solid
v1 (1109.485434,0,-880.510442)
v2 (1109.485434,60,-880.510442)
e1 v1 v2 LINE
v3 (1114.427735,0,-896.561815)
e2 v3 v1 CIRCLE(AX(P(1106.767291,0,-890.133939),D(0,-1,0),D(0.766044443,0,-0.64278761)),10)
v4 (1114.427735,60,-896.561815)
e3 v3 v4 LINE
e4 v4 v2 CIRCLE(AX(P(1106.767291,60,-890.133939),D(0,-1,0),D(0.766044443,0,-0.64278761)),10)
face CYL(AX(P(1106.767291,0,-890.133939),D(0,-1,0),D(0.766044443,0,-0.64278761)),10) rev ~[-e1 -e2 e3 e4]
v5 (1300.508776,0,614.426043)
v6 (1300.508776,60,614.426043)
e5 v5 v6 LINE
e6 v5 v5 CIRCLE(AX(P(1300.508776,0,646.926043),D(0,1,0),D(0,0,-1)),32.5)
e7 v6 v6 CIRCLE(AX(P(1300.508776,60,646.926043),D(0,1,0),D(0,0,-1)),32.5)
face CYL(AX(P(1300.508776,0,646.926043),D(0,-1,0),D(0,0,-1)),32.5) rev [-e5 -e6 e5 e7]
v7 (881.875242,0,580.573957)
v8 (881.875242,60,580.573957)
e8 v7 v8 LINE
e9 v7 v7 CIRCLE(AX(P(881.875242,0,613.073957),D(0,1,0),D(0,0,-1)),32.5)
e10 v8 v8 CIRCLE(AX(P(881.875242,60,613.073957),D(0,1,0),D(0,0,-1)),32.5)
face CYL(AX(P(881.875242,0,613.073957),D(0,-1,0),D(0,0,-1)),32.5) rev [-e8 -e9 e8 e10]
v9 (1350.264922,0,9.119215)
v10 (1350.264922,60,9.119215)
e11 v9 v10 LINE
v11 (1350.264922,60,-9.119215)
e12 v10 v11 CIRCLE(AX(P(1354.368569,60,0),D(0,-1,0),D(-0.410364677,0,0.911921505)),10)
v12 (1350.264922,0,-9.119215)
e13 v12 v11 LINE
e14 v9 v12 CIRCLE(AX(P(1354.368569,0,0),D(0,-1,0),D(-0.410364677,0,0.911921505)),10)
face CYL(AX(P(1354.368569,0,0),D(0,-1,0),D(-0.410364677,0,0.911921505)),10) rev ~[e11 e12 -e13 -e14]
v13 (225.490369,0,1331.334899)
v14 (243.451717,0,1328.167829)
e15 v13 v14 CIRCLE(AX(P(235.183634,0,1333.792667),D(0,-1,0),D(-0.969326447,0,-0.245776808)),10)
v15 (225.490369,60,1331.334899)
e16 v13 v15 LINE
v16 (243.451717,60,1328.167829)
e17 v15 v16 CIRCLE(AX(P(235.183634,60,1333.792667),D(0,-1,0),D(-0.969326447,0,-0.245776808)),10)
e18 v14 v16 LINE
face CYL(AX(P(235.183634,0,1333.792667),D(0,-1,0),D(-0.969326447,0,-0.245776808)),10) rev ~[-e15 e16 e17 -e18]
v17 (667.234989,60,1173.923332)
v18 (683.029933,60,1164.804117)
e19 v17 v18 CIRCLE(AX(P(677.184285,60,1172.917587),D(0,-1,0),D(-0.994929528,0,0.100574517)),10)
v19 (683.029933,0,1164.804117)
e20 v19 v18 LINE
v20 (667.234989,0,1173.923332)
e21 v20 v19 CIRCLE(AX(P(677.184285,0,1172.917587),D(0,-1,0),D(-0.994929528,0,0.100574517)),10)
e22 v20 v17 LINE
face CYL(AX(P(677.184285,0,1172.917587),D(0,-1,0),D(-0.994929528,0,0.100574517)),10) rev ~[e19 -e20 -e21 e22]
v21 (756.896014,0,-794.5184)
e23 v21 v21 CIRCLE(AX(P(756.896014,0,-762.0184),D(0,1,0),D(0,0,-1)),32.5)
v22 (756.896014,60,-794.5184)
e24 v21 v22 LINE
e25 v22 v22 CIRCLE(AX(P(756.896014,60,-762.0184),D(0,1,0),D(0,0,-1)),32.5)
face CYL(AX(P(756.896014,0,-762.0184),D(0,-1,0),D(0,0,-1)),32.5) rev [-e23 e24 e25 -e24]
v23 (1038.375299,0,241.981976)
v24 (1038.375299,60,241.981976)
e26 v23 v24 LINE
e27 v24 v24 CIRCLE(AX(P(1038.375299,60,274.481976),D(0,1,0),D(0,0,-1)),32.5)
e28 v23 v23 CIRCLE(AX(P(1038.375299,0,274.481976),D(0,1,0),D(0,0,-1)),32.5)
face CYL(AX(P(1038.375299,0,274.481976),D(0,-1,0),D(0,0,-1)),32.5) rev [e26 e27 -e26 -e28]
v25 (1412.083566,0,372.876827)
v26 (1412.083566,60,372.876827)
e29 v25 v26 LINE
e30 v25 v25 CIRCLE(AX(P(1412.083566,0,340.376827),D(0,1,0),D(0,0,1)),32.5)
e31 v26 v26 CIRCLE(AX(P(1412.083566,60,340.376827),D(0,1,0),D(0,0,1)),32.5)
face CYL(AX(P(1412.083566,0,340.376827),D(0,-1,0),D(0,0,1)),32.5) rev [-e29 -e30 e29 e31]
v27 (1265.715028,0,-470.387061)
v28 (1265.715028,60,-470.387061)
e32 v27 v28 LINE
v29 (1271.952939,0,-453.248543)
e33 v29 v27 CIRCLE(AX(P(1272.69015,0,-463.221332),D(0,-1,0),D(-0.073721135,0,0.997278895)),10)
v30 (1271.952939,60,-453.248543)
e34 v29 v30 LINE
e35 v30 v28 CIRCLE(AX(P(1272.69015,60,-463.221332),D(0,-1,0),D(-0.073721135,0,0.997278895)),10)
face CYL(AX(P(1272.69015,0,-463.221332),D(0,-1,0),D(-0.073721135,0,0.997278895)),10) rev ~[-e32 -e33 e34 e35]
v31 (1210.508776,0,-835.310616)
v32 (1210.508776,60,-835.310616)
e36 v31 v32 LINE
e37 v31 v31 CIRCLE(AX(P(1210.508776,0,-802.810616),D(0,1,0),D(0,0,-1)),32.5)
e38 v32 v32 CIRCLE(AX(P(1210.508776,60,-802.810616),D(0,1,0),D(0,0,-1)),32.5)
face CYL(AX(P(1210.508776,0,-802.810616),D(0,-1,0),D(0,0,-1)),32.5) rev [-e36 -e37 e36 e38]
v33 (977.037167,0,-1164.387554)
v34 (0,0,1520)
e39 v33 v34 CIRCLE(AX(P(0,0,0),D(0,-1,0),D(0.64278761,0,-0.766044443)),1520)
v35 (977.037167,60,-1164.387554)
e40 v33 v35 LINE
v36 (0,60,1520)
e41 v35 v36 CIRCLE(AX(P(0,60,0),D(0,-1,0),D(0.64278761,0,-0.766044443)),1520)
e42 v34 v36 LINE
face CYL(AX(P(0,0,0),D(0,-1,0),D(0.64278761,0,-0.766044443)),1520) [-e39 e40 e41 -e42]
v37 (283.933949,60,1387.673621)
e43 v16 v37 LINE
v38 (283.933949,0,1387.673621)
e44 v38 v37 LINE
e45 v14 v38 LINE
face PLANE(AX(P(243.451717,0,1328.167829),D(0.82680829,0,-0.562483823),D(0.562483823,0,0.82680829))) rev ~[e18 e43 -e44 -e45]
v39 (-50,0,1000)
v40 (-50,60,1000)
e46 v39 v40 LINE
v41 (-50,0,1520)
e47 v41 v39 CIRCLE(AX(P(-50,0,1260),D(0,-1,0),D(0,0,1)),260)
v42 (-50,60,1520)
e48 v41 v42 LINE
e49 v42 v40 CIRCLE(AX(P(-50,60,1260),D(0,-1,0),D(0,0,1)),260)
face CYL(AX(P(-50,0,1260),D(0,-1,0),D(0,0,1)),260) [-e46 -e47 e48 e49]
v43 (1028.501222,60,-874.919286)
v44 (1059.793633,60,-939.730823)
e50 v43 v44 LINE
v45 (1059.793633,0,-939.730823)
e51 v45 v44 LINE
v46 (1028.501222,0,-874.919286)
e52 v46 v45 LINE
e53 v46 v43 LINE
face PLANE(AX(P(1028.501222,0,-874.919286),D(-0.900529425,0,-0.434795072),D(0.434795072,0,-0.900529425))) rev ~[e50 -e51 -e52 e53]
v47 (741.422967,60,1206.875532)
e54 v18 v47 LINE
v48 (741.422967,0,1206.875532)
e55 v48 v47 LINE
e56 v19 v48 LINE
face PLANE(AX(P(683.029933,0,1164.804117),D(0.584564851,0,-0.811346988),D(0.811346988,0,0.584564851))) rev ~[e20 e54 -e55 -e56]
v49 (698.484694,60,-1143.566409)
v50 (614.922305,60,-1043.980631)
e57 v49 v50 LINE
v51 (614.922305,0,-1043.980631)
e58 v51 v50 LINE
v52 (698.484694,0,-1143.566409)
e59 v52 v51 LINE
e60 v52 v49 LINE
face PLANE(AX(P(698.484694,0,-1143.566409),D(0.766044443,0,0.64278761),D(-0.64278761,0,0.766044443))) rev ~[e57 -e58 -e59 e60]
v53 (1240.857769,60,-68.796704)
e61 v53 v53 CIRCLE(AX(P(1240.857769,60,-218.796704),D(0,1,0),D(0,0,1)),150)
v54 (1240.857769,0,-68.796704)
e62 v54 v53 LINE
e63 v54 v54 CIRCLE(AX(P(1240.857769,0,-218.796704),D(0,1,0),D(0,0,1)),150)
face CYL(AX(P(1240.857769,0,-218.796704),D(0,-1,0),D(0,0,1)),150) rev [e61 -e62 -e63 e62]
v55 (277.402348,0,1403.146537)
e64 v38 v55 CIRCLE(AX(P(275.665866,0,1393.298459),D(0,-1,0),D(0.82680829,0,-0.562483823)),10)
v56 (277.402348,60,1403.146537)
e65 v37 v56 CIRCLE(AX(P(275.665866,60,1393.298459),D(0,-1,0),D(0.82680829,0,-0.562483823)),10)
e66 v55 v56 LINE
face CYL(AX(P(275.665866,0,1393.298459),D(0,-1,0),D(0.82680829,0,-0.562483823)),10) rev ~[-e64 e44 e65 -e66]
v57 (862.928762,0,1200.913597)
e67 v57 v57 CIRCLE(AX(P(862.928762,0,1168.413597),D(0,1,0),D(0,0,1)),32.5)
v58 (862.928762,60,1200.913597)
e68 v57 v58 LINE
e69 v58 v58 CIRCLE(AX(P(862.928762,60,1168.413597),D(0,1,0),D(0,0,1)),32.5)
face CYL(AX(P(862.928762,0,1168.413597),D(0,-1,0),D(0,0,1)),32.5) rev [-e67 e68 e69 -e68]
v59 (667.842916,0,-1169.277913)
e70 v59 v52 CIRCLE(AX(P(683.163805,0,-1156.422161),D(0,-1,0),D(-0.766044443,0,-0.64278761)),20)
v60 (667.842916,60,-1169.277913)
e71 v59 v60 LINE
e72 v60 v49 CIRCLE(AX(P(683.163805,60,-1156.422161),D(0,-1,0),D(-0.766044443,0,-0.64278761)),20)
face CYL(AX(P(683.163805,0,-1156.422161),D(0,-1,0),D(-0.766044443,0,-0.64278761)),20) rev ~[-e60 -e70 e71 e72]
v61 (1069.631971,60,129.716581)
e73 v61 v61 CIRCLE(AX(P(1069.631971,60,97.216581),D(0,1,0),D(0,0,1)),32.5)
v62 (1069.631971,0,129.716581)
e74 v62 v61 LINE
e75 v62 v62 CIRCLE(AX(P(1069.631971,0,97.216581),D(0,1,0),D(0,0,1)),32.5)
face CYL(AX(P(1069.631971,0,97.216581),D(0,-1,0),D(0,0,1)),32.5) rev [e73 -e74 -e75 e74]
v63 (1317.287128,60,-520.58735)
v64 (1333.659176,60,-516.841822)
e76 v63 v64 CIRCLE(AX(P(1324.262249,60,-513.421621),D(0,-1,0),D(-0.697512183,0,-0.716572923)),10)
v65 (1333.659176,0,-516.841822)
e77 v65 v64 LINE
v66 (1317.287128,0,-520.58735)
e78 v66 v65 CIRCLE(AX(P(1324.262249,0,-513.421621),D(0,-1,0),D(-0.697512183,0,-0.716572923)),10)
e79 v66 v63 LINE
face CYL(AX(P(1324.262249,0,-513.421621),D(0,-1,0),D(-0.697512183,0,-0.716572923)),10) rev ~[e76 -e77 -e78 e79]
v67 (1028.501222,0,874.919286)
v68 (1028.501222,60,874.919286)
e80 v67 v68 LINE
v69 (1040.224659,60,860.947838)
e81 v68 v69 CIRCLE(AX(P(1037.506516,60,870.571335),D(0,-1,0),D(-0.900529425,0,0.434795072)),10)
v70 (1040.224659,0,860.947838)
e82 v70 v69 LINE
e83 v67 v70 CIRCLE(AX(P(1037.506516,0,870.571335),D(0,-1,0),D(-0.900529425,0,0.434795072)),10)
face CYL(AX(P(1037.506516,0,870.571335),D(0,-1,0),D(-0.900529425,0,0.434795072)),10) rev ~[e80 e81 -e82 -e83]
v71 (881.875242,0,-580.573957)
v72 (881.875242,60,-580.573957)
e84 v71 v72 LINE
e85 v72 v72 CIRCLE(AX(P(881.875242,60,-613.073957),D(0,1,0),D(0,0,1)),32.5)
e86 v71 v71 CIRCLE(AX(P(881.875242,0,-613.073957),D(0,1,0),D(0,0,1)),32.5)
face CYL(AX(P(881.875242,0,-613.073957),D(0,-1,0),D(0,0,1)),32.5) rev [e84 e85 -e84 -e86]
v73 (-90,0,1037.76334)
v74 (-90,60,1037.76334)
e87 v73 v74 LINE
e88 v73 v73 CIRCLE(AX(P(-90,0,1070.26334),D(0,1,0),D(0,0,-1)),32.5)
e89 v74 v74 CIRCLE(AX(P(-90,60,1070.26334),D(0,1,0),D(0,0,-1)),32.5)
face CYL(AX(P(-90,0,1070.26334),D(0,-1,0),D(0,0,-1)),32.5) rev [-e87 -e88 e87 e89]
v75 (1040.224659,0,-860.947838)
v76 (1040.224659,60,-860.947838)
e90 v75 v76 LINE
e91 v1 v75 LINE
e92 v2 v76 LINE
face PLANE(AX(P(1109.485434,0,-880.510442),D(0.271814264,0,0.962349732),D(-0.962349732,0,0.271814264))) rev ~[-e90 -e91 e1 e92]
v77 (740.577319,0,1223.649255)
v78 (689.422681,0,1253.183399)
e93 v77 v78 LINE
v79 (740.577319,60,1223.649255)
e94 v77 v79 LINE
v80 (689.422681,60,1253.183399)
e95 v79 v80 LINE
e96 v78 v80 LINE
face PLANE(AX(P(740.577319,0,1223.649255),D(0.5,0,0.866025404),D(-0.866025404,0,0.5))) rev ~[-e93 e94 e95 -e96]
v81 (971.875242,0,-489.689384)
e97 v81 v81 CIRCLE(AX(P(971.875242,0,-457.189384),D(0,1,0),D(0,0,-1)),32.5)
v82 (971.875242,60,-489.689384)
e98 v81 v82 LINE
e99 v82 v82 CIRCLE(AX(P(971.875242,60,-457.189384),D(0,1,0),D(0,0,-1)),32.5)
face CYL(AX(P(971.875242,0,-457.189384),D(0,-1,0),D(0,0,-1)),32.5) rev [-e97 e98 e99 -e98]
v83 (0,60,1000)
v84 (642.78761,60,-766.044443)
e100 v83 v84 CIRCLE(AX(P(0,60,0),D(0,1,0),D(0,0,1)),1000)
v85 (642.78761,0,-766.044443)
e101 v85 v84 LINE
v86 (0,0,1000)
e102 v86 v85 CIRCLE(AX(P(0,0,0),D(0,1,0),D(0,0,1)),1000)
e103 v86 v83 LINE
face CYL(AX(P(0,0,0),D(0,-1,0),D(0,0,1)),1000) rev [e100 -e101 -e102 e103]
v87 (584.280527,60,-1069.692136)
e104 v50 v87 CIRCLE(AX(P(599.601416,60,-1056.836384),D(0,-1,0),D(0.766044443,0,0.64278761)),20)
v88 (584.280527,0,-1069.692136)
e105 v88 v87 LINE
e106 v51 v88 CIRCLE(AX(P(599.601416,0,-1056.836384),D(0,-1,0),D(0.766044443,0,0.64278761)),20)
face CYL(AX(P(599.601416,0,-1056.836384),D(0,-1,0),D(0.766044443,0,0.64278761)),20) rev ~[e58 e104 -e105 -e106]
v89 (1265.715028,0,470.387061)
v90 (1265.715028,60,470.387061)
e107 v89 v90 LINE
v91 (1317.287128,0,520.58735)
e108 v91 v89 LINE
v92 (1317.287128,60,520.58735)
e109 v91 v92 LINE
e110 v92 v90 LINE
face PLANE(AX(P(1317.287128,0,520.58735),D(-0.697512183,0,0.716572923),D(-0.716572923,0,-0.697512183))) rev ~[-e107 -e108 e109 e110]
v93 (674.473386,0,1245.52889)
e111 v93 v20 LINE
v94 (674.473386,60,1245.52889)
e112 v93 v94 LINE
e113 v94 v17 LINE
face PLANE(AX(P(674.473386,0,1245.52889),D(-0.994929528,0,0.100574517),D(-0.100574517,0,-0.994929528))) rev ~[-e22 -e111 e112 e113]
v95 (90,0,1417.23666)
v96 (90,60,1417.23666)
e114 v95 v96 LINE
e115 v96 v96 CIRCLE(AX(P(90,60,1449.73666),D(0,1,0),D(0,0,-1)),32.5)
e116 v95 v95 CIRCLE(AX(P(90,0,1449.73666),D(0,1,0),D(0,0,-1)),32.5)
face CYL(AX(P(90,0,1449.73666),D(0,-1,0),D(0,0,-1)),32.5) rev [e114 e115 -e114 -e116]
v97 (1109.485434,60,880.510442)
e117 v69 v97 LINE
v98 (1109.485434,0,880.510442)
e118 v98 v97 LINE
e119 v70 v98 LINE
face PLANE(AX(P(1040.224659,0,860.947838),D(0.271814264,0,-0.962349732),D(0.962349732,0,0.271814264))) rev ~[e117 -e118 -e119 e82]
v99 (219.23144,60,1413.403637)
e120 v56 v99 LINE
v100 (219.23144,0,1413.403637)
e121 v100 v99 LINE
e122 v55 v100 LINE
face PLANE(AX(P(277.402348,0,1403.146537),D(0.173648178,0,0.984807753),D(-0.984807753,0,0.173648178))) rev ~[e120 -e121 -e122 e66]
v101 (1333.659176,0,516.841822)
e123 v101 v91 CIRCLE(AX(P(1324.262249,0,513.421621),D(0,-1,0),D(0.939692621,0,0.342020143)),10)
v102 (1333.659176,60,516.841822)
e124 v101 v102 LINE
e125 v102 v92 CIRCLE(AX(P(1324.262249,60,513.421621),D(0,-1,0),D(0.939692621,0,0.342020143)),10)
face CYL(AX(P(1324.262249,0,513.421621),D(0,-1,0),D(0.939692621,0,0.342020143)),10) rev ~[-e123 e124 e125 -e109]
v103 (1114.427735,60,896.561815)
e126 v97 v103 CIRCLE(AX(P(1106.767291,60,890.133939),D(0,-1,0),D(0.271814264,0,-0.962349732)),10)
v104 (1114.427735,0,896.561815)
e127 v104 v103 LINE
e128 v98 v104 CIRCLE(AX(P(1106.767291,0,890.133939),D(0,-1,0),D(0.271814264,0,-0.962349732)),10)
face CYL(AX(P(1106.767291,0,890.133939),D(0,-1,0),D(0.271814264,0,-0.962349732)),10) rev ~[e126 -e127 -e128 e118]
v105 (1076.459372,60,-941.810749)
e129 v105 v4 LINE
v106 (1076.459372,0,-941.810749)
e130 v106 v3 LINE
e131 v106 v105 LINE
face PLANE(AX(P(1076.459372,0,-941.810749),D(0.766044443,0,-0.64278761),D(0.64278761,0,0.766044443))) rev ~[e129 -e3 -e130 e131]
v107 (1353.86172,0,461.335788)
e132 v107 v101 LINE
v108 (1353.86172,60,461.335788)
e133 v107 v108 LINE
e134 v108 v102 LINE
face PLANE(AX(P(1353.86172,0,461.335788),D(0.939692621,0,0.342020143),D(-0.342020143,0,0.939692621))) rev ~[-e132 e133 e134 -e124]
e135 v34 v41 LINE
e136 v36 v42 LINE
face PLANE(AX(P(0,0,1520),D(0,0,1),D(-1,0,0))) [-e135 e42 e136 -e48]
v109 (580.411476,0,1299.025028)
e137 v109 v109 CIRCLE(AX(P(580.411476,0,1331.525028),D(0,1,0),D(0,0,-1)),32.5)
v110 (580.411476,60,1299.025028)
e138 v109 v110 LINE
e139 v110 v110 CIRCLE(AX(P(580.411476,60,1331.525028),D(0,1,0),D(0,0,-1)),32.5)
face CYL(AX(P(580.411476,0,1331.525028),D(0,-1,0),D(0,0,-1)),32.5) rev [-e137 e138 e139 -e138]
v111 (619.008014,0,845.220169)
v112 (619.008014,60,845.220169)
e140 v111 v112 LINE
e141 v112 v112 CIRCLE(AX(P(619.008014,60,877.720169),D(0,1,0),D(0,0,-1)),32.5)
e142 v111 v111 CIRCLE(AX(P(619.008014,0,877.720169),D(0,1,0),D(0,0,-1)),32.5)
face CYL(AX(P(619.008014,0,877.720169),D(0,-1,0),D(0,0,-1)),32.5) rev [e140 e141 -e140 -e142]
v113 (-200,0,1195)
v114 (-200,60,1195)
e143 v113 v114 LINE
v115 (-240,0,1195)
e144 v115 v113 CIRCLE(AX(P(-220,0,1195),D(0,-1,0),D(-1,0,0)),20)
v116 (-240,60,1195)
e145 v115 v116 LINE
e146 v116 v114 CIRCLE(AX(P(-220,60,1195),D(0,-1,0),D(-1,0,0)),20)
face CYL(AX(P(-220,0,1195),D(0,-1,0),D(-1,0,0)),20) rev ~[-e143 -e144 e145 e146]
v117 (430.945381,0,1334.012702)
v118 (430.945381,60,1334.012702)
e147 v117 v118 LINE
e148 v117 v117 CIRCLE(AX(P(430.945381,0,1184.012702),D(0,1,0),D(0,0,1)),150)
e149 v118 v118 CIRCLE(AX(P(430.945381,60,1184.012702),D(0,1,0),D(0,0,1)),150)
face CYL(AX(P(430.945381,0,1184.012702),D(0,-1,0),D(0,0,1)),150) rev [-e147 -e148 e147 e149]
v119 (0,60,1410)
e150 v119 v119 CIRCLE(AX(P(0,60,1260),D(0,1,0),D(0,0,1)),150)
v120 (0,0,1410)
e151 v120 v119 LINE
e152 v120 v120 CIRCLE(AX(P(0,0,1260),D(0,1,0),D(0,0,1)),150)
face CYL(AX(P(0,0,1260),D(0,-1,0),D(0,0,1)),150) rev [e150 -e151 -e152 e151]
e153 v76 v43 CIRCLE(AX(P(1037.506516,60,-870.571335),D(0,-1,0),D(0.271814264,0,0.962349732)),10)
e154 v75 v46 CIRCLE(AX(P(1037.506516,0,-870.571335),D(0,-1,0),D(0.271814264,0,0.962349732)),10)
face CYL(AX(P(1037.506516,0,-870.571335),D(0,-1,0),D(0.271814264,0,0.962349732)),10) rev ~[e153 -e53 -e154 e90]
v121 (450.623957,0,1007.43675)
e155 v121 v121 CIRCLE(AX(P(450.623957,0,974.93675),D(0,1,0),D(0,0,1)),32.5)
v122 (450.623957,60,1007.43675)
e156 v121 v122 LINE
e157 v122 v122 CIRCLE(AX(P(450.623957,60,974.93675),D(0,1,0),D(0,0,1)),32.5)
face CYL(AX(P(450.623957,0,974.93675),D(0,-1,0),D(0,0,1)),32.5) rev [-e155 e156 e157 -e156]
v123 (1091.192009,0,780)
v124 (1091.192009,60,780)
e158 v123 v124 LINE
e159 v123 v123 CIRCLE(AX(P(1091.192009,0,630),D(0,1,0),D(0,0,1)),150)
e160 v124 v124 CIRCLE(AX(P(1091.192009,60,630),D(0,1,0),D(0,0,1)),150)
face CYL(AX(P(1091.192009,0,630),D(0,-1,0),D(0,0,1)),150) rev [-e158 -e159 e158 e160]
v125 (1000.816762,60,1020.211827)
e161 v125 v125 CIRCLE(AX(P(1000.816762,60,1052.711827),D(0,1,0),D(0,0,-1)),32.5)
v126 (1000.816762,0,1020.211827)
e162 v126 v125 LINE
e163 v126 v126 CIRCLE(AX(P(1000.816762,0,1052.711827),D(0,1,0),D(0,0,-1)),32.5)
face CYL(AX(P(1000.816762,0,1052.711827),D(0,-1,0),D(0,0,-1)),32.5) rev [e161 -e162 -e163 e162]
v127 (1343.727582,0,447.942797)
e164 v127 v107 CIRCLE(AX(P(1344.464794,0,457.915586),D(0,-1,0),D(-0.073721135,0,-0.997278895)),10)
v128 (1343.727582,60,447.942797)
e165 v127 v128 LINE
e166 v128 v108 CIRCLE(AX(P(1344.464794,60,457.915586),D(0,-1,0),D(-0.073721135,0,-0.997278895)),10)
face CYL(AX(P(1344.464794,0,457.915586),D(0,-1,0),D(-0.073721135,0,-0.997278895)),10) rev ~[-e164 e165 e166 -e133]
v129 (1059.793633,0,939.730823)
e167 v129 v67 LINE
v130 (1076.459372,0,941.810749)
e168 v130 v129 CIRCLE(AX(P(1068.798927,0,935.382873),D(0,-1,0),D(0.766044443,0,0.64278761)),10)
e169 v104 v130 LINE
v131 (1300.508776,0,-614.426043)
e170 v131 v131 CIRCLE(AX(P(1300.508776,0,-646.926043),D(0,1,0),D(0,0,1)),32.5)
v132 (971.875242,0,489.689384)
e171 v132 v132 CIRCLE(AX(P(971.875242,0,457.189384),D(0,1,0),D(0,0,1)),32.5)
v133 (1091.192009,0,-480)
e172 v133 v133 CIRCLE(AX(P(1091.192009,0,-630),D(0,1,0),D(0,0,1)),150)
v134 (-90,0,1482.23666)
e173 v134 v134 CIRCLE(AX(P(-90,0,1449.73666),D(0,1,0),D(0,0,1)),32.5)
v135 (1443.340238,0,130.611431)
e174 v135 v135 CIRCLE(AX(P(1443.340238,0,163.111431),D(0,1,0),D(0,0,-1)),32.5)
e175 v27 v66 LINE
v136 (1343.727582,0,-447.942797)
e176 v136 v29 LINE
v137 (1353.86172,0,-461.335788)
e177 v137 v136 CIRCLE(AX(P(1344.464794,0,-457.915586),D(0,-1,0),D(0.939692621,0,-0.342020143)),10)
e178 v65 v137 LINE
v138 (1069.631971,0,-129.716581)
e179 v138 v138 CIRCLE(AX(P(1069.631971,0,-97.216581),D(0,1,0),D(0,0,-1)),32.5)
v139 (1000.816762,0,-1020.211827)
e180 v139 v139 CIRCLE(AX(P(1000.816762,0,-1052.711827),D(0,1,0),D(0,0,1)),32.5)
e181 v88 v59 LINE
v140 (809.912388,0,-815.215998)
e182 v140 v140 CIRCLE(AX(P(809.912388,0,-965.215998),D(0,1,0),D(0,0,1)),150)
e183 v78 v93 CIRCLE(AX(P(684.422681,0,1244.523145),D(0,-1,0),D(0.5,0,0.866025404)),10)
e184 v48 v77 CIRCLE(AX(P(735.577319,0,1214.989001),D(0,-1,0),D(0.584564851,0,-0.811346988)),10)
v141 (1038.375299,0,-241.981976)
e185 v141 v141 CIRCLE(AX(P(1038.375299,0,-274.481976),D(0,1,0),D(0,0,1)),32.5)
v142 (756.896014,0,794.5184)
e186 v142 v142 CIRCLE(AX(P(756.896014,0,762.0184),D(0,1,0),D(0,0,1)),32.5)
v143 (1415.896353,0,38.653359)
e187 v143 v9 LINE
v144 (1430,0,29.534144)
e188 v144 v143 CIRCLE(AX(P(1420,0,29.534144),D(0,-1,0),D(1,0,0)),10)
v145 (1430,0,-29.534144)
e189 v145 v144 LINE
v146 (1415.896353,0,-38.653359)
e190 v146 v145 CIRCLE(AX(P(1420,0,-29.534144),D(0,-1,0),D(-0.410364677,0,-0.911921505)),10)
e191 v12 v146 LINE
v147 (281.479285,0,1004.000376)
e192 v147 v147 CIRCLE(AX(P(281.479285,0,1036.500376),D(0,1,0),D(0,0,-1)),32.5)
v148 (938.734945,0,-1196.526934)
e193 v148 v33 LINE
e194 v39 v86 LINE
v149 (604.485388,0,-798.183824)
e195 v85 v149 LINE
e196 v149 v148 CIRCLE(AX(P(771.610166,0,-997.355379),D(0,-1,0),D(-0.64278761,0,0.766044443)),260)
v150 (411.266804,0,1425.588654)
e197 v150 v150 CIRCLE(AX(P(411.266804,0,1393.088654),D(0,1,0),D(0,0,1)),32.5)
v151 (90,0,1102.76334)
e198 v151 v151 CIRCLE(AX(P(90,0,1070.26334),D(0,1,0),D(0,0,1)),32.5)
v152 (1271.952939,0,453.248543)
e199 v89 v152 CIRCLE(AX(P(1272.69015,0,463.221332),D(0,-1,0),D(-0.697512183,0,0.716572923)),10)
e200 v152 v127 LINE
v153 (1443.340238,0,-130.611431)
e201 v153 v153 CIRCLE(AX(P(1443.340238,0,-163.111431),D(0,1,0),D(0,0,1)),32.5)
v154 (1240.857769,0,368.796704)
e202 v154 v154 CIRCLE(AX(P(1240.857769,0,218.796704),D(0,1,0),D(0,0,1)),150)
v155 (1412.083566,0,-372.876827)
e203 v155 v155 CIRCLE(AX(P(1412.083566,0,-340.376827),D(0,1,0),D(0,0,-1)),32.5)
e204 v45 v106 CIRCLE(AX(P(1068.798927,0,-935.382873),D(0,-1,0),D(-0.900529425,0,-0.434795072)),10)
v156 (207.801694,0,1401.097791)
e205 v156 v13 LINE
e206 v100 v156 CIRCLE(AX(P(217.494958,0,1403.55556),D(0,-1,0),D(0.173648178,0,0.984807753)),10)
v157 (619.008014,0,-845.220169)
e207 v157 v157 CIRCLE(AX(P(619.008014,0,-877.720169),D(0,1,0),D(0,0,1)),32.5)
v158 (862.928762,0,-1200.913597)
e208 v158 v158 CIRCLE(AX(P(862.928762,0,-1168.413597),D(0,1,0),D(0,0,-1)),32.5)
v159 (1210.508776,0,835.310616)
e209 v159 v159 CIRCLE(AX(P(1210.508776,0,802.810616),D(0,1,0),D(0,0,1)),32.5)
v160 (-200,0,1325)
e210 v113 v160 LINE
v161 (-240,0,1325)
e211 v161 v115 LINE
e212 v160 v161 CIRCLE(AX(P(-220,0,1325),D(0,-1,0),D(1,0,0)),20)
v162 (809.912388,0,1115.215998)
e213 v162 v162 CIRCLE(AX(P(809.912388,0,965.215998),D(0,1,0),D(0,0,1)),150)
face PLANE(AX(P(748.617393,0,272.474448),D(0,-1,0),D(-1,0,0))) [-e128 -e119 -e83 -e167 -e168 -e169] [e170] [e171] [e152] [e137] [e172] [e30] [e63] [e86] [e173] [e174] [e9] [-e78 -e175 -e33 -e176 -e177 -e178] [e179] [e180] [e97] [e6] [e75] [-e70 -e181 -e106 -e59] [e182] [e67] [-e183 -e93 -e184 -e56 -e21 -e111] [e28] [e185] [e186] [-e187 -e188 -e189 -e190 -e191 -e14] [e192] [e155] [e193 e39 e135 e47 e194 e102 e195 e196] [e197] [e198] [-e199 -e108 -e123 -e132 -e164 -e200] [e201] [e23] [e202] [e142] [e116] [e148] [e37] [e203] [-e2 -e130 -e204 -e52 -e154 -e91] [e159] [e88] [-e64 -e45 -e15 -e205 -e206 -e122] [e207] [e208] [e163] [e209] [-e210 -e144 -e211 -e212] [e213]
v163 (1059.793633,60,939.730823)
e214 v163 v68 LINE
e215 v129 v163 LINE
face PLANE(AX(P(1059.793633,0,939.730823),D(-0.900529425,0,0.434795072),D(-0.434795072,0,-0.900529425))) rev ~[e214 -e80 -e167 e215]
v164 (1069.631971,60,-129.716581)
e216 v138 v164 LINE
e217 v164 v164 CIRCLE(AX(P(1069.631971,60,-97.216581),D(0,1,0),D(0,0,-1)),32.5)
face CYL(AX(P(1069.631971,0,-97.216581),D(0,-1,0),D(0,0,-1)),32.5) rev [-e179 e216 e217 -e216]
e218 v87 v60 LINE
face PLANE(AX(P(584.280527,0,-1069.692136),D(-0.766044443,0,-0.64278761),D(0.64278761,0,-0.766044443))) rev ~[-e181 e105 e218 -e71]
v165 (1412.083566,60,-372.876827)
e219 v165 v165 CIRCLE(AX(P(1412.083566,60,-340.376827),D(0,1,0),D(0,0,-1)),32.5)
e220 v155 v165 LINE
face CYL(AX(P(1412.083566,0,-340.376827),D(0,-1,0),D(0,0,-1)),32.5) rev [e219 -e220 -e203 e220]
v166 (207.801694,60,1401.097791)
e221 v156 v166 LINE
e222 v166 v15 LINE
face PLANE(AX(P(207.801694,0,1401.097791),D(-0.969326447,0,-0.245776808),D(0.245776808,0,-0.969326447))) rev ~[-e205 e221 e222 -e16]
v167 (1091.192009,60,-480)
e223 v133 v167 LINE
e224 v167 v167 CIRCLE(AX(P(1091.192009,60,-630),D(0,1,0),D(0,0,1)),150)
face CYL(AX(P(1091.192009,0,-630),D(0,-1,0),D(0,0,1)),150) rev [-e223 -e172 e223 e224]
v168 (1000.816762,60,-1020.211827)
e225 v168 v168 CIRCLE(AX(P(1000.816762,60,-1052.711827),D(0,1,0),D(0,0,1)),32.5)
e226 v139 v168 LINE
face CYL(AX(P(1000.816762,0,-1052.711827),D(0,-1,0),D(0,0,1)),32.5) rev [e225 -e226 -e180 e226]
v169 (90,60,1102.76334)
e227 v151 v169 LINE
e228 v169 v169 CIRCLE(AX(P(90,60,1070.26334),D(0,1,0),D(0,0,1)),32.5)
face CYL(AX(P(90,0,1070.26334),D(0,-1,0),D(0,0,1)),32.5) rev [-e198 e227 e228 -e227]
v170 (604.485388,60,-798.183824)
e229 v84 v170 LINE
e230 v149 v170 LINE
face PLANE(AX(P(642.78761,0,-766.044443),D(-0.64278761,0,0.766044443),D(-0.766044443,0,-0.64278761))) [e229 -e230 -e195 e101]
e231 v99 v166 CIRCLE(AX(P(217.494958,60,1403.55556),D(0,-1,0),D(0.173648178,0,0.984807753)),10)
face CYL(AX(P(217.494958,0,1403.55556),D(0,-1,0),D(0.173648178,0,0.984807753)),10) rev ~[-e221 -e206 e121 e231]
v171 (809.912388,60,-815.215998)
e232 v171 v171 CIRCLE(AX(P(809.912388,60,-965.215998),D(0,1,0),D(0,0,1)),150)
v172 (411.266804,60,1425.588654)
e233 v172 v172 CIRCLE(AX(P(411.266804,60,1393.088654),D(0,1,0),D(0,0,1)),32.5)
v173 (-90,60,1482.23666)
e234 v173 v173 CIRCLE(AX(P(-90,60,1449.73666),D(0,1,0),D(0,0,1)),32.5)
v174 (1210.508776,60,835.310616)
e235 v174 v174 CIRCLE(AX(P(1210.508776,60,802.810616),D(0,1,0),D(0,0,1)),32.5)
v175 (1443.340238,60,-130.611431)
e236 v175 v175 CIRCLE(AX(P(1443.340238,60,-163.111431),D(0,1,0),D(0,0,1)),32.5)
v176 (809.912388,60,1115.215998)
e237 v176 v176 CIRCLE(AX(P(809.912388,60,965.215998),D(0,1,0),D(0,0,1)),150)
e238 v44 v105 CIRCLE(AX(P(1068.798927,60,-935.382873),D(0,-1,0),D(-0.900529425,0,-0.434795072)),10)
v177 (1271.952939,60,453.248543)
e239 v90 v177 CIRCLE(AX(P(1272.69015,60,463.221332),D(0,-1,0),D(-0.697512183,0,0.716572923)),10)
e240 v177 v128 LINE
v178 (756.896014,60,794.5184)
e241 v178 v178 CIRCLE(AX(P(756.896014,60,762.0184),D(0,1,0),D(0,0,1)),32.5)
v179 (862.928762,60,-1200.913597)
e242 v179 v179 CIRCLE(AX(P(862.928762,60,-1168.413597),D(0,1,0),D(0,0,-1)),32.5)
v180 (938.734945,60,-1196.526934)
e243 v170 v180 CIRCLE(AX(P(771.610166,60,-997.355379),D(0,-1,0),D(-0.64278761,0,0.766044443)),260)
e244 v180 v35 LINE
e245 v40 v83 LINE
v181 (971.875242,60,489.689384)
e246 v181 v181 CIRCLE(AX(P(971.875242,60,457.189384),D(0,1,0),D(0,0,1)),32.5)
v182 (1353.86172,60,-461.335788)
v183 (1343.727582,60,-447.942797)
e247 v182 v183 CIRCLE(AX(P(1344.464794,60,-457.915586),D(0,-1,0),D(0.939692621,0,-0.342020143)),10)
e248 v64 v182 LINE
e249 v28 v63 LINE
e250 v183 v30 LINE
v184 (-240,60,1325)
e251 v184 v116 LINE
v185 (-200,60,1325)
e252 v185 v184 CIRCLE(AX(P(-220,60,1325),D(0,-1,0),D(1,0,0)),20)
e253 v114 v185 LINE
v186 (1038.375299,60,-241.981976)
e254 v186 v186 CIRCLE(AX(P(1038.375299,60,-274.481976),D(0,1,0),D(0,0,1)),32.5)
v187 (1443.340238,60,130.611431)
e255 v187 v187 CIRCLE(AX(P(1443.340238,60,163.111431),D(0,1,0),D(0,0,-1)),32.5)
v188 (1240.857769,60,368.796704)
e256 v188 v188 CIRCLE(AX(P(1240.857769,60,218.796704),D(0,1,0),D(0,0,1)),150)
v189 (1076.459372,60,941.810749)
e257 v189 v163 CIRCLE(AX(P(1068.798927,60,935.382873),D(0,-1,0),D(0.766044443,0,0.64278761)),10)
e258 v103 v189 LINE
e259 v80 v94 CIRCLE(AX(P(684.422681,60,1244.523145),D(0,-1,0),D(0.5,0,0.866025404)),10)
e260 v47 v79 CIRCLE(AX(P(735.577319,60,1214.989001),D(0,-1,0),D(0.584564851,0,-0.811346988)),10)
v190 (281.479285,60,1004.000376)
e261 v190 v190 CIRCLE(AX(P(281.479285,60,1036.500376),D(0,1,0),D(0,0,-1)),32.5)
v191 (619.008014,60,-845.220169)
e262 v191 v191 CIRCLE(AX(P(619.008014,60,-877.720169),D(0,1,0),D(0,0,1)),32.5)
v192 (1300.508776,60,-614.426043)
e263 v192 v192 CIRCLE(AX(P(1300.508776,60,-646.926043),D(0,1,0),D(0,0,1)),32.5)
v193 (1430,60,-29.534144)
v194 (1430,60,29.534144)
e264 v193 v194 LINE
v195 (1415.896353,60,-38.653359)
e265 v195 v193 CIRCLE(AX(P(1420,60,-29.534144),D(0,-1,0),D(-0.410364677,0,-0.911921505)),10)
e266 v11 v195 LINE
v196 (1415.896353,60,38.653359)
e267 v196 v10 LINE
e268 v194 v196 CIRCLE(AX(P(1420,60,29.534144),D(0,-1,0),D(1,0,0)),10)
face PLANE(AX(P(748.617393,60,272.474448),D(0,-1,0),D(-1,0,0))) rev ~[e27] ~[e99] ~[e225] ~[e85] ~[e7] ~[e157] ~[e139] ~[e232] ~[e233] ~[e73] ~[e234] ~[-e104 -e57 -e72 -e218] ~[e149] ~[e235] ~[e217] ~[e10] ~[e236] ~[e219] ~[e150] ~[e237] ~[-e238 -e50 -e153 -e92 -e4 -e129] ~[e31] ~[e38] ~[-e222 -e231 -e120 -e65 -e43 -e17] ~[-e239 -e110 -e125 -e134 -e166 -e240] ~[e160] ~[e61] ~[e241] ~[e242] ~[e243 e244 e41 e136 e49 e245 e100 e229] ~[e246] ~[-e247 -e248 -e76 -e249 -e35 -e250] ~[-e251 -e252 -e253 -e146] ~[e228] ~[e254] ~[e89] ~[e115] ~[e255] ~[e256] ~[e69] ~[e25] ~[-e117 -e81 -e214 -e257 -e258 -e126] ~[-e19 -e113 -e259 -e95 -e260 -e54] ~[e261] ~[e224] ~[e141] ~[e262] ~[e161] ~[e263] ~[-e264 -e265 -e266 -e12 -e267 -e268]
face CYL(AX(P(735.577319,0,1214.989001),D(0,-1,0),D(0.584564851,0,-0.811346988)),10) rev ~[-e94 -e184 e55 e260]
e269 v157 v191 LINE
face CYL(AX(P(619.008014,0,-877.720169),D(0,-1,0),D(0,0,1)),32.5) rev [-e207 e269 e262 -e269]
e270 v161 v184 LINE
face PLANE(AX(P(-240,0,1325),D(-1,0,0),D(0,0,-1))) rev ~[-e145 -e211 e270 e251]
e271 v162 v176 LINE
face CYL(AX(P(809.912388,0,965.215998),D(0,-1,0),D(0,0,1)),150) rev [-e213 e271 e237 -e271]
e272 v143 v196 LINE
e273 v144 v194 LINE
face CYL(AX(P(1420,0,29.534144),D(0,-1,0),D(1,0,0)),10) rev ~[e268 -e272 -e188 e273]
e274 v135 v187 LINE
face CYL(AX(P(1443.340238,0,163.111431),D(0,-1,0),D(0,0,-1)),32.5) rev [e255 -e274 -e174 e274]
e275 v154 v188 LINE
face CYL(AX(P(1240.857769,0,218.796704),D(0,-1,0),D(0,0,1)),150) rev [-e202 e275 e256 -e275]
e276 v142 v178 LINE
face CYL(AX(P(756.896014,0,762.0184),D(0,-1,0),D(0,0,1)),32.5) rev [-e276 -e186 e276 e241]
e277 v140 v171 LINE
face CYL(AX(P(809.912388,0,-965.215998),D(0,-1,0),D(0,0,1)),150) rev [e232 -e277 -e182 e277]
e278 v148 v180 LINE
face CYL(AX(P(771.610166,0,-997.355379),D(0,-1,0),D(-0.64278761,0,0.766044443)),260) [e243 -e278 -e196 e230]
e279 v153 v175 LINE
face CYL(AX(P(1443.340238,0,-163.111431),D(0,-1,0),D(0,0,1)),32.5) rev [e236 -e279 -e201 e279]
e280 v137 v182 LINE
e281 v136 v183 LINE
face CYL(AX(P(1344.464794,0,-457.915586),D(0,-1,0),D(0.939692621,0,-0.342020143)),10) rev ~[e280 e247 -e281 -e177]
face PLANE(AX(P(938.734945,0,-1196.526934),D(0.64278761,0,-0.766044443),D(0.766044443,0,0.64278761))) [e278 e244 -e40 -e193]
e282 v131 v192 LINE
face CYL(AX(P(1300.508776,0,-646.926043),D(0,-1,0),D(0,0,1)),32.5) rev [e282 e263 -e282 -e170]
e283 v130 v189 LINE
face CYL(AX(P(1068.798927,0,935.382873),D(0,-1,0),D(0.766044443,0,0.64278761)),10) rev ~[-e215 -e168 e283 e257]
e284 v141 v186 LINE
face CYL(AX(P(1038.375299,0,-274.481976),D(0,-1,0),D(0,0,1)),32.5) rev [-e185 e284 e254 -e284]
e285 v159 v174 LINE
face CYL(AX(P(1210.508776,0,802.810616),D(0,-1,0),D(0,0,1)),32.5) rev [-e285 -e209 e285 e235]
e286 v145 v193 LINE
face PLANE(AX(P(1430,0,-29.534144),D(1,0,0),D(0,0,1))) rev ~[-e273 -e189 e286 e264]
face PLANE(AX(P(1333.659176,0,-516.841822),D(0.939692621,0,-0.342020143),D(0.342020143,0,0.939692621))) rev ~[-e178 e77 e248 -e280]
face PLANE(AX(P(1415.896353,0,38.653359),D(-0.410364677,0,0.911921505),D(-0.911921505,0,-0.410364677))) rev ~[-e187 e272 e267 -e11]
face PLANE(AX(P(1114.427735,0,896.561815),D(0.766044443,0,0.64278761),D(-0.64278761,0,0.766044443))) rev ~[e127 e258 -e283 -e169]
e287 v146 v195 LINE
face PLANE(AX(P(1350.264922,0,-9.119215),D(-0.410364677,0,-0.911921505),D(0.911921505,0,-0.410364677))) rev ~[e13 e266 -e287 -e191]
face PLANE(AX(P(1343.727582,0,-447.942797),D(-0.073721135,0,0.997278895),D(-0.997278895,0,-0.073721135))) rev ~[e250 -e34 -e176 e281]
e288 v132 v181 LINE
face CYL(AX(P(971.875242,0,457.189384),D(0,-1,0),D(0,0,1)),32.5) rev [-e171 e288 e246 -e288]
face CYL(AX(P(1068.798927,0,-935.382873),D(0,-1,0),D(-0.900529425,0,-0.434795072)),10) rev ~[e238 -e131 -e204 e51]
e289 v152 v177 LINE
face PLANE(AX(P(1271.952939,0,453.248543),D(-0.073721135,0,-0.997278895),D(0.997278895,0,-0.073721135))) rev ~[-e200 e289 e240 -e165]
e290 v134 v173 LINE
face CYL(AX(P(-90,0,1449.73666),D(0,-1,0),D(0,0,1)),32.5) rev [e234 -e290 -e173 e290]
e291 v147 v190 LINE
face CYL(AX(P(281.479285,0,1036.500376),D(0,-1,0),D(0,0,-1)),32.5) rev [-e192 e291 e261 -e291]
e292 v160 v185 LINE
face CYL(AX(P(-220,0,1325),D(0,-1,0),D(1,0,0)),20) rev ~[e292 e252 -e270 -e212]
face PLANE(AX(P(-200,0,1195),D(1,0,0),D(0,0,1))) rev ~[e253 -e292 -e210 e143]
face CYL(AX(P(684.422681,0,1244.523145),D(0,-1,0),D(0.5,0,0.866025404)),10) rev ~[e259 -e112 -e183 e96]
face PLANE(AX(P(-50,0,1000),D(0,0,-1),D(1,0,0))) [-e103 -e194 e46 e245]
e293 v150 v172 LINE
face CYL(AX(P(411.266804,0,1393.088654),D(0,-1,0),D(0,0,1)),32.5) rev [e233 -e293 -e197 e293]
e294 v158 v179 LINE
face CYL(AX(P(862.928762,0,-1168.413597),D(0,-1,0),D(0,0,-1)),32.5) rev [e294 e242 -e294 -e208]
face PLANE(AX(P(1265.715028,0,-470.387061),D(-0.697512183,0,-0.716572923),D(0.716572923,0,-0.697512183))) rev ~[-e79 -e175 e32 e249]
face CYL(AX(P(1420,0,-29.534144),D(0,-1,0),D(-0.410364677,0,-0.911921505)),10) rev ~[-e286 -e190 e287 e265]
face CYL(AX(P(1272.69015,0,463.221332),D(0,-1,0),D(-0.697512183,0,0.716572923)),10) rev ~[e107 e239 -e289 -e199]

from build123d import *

# Parameters (mm, degrees)
SKETCH1_R           = 150
SKETCH1_R_2         = 32.5
BOSS_EXTRUDE1_DEPTH = 60


with BuildPart() as part:
    # Sketch1 → Boss-Extrude1 (new body)
    with BuildSketch(Plane(origin=(0, 0, 0), x_dir=(1, 0, 0), z_dir=(0, 1, 0))):
        with BuildLine():
            Line((642.787609687, 766.044443119), (604.485387531, 798.183823603))
            ThreePointArc((604.485387531, 798.183823603), (572.438610838, 1164.480157333), (938.734944568, 1196.526934025))
            Line((938.734944568, 1196.526934025), (977.037166724, 1164.387553541))
            ThreePointArc((977.037166724, 1164.387553541), (1428.332783595, -519.870617855), (0, -1520))
            Line((0, -1520), (-50, -1520))
            ThreePointArc((-50, -1520), (-310, -1260), (-50, -1000))
            Line((-50, -1000), (0, -1000))
            ThreePointArc((0, -1000), (939.692620786, -342.020143326), (642.787609687, 766.044443119))
        make_face()
        with Locations(Location((0, -1260, 0), (0, 0, 270))):
            Circle(SKETCH1_R, mode=Mode.SUBTRACT)
        with Locations(Location((90, -1070.26334039, 0), (0, 0, 270))):
            Circle(SKETCH1_R_2, mode=Mode.SUBTRACT)
        with Locations(Location((-90, -1070.26334039, 0), (0, 0, 90))):
            Circle(SKETCH1_R_2, mode=Mode.SUBTRACT)
        with Locations(Location((-90, -1449.73665961, 0), (0, 0, 270))):
            Circle(SKETCH1_R_2, mode=Mode.SUBTRACT)
        with Locations(Location((90, -1449.73665961, 0), (0, 0, 90))):
            Circle(SKETCH1_R_2, mode=Mode.SUBTRACT)
        with Locations(Location((450.623956947, -974.936750363, 0), (0, 0, 270))):
            Circle(SKETCH1_R_2, mode=Mode.SUBTRACT)
        with Locations(Location((430.94538059, -1184.01270219, 0), (0, 0, 270))):
            Circle(SKETCH1_R, mode=Mode.SUBTRACT)
        with Locations(Location((281.479285206, -1036.500376161, 0), (0, 0, 90))):
            Circle(SKETCH1_R_2, mode=Mode.SUBTRACT)
        with Locations(Location((580.411475975, -1331.525028219, 0), (0, 0, 90))):
            Circle(SKETCH1_R_2, mode=Mode.SUBTRACT)
        with Locations(Location((411.266804234, -1393.088654018, 0), (0, 0, 270))):
            Circle(SKETCH1_R_2, mode=Mode.SUBTRACT)
        with Locations(Location((756.896014185, -762.018399708, 0), (0, 0, 270))):
            Circle(SKETCH1_R_2, mode=Mode.SUBTRACT)
        with Locations(Location((809.912388205, -965.21599833, 0), (0, 0, 270))):
            Circle(SKETCH1_R, mode=Mode.SUBTRACT)
        with Locations(Location((619.008014424, -877.720169451, 0), (0, 0, 90))):
            Circle(SKETCH1_R_2, mode=Mode.SUBTRACT)
        with Locations(Location((1000.816761986, -1052.711827208, 0), (0, 0, 90))):
            Circle(SKETCH1_R_2, mode=Mode.SUBTRACT)
        with Locations(Location((862.928762225, -1168.413596952, 0), (0, 0, 270))):
            Circle(SKETCH1_R_2, mode=Mode.SUBTRACT)
        with Locations(Location((971.875241517, -457.189383854, 0), (0, 0, 270))):
            Circle(SKETCH1_R_2, mode=Mode.SUBTRACT)
        with Locations(Location((1091.192008768, -630, 0), (0, 0, 270))):
            Circle(SKETCH1_R, mode=Mode.SUBTRACT)
        with Locations(Location((881.875241517, -613.073956536, 0), (0, 0, 90))):
            Circle(SKETCH1_R_2, mode=Mode.SUBTRACT)
        with Locations(Location((1300.50877602, -646.926043464, 0), (0, 0, 90))):
            Circle(SKETCH1_R_2, mode=Mode.SUBTRACT)
        with Locations(Location((1210.50877602, -802.810616146, 0), (0, 0, 270))):
            Circle(SKETCH1_R_2, mode=Mode.SUBTRACT)
        with Locations(Location((1069.631971371, -97.216580911, 0), (0, 0, 270))):
            Circle(SKETCH1_R_2, mode=Mode.SUBTRACT)
        with Locations(Location((1240.857768795, -218.79670386, 0), (0, 0, 270))):
            Circle(SKETCH1_R, mode=Mode.SUBTRACT)
        with Locations(Location((1038.375299391, -274.481976454, 0), (0, 0, 90))):
            Circle(SKETCH1_R_2, mode=Mode.SUBTRACT)
        with Locations(Location((1443.3402382, -163.111431267, 0), (0, 0, 90))):
            Circle(SKETCH1_R_2, mode=Mode.SUBTRACT)
        with Locations(Location((1412.08356622, -340.376826809, 0), (0, 0, 270))):
            Circle(SKETCH1_R_2, mode=Mode.SUBTRACT)
        with Locations(Location((1038.375299391, 274.481976454, 0), (0, 0, 270))):
            Circle(SKETCH1_R_2, mode=Mode.SUBTRACT)
        with Locations(Location((1240.857768795, 218.79670386, 0), (0, 0, 270))):
            Circle(SKETCH1_R, mode=Mode.SUBTRACT)
        with Locations(Location((1069.631971371, 97.216580911, 0), (0, 0, 90))):
            Circle(SKETCH1_R_2, mode=Mode.SUBTRACT)
        with Locations(Location((1412.08356622, 340.376826809, 0), (0, 0, 90))):
            Circle(SKETCH1_R_2, mode=Mode.SUBTRACT)
        with Locations(Location((1443.3402382, 163.111431267, 0), (0, 0, 270))):
            Circle(SKETCH1_R_2, mode=Mode.SUBTRACT)
        with Locations(Location((881.875241517, 613.073956536, 0), (0, 0, 270))):
            Circle(SKETCH1_R_2, mode=Mode.SUBTRACT)
        with Locations(Location((1091.192008768, 630, 0), (0, 0, 270))):
            Circle(SKETCH1_R, mode=Mode.SUBTRACT)
        with Locations(Location((971.875241517, 457.189383854, 0), (0, 0, 90))):
            Circle(SKETCH1_R_2, mode=Mode.SUBTRACT)
        with Locations(Location((1210.50877602, 802.810616146, 0), (0, 0, 90))):
            Circle(SKETCH1_R_2, mode=Mode.SUBTRACT)
        with Locations(Location((1300.50877602, 646.926043464, 0), (0, 0, 270))):
            Circle(SKETCH1_R_2, mode=Mode.SUBTRACT)
        with Locations(Location((619.008014424, 877.720169451, 0), (0, 0, 270))):
            Circle(SKETCH1_R_2, mode=Mode.SUBTRACT)
        with Locations(Location((809.912388205, 965.21599833, 0), (0, 0, 270))):
            Circle(SKETCH1_R, mode=Mode.SUBTRACT)
        with Locations(Location((756.896014185, 762.018399708, 0), (0, 0, 90))):
            Circle(SKETCH1_R_2, mode=Mode.SUBTRACT)
        with Locations(Location((862.928762225, 1168.413596952, 0), (0, 0, 90))):
            Circle(SKETCH1_R_2, mode=Mode.SUBTRACT)
        with Locations(Location((1000.816761986, 1052.711827208, 0), (0, 0, 270))):
            Circle(SKETCH1_R_2, mode=Mode.SUBTRACT)
        with BuildLine():
            Line((584.280527227, 1069.692135852), (667.842916486, 1169.277913457))
            ThreePointArc((667.842916486, 1169.277913457), (696.019557542, 1171.743050126), (698.484694211, 1143.56640907))
            Line((698.484694211, 1143.56640907), (614.922304952, 1043.980631464))
            ThreePointArc((614.922304952, 1043.980631464), (586.745663896, 1041.515494796), (584.280527227, 1069.692135852))
        make_face(mode=Mode.SUBTRACT)
        with BuildLine():
            Line((-200, -1195), (-200, -1325))
            ThreePointArc((-200, -1325), (-220, -1345), (-240, -1325))
            Line((-240, -1325), (-240, -1195))
            ThreePointArc((-240, -1195), (-220, -1175), (-200, -1195))
        make_face(mode=Mode.SUBTRACT)
        with BuildLine():
            Line((1076.459371898, 941.810748669), (1114.427735422, 896.561815035))
            ThreePointArc((1114.427735422, 896.561815035), (1116.324508918, 887.191221571), (1109.485433629, 880.510441621))
            Line((1109.485433629, 880.510441621), (1040.22465894, 860.947837857))
            ThreePointArc((1040.22465894, 860.947837857), (1029.846071871, 864.143459076), (1028.50122205, 874.919285889))
            Line((1028.50122205, 874.919285889), (1059.793633215, 939.730823288))
            ThreePointArc((1059.793633215, 939.730823288), (1067.560510066, 945.305892392), (1076.459371898, 941.810748669))
        make_face(mode=Mode.SUBTRACT)
        with BuildLine():
            Line((1265.715028387, 470.387061357), (1317.287127556, 520.587349841))
            ThreePointArc((1317.287127556, 520.587349841), (1326.492390354, 523.169772804), (1333.659175594, 516.84182204))
            Line((1333.659175594, 516.84182204), (1353.861719854, 461.335787871))
            ThreePointArc((1353.861719854, 461.335787871), (1352.439172191, 451.881575599), (1343.727582294, 447.942797489))
            Line((1343.727582294, 447.942797489), (1271.952938865, 453.248543174))
            ThreePointArc((1271.952938865, 453.248543174), (1263.29322401, 459.80113069), (1265.715028387, 470.387061357))
        make_face(mode=Mode.SUBTRACT)
        with BuildLine():
            Line((1350.264922337, 9.119215052), (1415.896353227, 38.653358952))
            ThreePointArc((1415.896353227, 38.653358952), (1425.429711423, 37.931657453), (1430, 29.5341439))
            Line((1430, 29.5341439), (1430, -29.5341439))
            ThreePointArc((1430, -29.5341439), (1425.429711423, -37.931657453), (1415.896353227, -38.653358952))
            Line((1415.896353227, -38.653358952), (1350.264922337, -9.119215052))
            ThreePointArc((1350.264922337, -9.119215052), (1344.368569111, 0), (1350.264922337, 9.119215052))
        make_face(mode=Mode.SUBTRACT)
        with BuildLine():
            Line((1271.952938865, -453.248543174), (1343.727582294, -447.942797489))
            ThreePointArc((1343.727582294, -447.942797489), (1352.439172192, -451.881575599), (1353.861719854, -461.335787871))
            Line((1353.861719854, -461.335787871), (1333.659175594, -516.84182204))
            ThreePointArc((1333.659175594, -516.84182204), (1326.492390354, -523.169772804), (1317.287127556, -520.587349841))
            Line((1317.287127556, -520.587349841), (1265.715028387, -470.387061357))
            ThreePointArc((1265.715028387, -470.387061357), (1263.29322401, -459.80113069), (1271.952938865, -453.248543174))
        make_face(mode=Mode.SUBTRACT)
        with BuildLine():
            Line((1040.22465894, -860.947837857), (1109.485433629, -880.510441621))
            ThreePointArc((1109.485433629, -880.510441621), (1116.324508918, -887.191221571), (1114.427735422, -896.561815035))
            Line((1114.427735422, -896.561815035), (1076.459371898, -941.810748669))
            ThreePointArc((1076.459371898, -941.810748669), (1067.560510067, -945.305892392), (1059.793633215, -939.730823288))
            Line((1059.793633215, -939.730823288), (1028.50122205, -874.919285889))
            ThreePointArc((1028.50122205, -874.919285889), (1029.846071871, -864.143459076), (1040.22465894, -860.947837857))
        make_face(mode=Mode.SUBTRACT)
        with BuildLine():
            Line((683.029933066, -1164.804117057), (741.422967407, -1206.875531544))
            ThreePointArc((741.422967407, -1206.875531544), (745.564634673, -1215.492512675), (740.577318897, -1223.649255462))
            Line((740.577318897, -1223.649255462), (689.422681103, -1253.183399362))
            ThreePointArc((689.422681103, -1253.183399362), (679.86507675, -1253.424170128), (674.473385819, -1245.528890496))
            Line((674.473385819, -1245.528890496), (667.234989271, -1173.923332109))
            ThreePointArc((667.234989271, -1173.923332109), (672.184284555, -1164.257332899), (683.029933066, -1164.804117057))
        make_face(mode=Mode.SUBTRACT)
        with BuildLine():
            Line((243.451716816, -1328.167829063), (283.933949079, -1387.673620777))
            ThreePointArc((283.933949079, -1387.673620777), (284.878662125, -1397.18746799), (277.402347955, -1403.14653654))
            Line((277.402347955, -1403.14653654), (219.231440172, -1413.403637075))
            ThreePointArc((219.231440172, -1413.403637075), (210.167881437, -1410.360994376), (207.801693927, -1401.097791462))
            Line((207.801693927, -1401.097791462), (225.490369447, -1331.334899214))
            ThreePointArc((225.490369447, -1331.334899214), (233.447152139, -1323.944589766), (243.451716816, -1328.167829063))
        make_face(mode=Mode.SUBTRACT)
    extrude(amount=BOSS_EXTRUDE1_DEPTH)


solid = part.part
